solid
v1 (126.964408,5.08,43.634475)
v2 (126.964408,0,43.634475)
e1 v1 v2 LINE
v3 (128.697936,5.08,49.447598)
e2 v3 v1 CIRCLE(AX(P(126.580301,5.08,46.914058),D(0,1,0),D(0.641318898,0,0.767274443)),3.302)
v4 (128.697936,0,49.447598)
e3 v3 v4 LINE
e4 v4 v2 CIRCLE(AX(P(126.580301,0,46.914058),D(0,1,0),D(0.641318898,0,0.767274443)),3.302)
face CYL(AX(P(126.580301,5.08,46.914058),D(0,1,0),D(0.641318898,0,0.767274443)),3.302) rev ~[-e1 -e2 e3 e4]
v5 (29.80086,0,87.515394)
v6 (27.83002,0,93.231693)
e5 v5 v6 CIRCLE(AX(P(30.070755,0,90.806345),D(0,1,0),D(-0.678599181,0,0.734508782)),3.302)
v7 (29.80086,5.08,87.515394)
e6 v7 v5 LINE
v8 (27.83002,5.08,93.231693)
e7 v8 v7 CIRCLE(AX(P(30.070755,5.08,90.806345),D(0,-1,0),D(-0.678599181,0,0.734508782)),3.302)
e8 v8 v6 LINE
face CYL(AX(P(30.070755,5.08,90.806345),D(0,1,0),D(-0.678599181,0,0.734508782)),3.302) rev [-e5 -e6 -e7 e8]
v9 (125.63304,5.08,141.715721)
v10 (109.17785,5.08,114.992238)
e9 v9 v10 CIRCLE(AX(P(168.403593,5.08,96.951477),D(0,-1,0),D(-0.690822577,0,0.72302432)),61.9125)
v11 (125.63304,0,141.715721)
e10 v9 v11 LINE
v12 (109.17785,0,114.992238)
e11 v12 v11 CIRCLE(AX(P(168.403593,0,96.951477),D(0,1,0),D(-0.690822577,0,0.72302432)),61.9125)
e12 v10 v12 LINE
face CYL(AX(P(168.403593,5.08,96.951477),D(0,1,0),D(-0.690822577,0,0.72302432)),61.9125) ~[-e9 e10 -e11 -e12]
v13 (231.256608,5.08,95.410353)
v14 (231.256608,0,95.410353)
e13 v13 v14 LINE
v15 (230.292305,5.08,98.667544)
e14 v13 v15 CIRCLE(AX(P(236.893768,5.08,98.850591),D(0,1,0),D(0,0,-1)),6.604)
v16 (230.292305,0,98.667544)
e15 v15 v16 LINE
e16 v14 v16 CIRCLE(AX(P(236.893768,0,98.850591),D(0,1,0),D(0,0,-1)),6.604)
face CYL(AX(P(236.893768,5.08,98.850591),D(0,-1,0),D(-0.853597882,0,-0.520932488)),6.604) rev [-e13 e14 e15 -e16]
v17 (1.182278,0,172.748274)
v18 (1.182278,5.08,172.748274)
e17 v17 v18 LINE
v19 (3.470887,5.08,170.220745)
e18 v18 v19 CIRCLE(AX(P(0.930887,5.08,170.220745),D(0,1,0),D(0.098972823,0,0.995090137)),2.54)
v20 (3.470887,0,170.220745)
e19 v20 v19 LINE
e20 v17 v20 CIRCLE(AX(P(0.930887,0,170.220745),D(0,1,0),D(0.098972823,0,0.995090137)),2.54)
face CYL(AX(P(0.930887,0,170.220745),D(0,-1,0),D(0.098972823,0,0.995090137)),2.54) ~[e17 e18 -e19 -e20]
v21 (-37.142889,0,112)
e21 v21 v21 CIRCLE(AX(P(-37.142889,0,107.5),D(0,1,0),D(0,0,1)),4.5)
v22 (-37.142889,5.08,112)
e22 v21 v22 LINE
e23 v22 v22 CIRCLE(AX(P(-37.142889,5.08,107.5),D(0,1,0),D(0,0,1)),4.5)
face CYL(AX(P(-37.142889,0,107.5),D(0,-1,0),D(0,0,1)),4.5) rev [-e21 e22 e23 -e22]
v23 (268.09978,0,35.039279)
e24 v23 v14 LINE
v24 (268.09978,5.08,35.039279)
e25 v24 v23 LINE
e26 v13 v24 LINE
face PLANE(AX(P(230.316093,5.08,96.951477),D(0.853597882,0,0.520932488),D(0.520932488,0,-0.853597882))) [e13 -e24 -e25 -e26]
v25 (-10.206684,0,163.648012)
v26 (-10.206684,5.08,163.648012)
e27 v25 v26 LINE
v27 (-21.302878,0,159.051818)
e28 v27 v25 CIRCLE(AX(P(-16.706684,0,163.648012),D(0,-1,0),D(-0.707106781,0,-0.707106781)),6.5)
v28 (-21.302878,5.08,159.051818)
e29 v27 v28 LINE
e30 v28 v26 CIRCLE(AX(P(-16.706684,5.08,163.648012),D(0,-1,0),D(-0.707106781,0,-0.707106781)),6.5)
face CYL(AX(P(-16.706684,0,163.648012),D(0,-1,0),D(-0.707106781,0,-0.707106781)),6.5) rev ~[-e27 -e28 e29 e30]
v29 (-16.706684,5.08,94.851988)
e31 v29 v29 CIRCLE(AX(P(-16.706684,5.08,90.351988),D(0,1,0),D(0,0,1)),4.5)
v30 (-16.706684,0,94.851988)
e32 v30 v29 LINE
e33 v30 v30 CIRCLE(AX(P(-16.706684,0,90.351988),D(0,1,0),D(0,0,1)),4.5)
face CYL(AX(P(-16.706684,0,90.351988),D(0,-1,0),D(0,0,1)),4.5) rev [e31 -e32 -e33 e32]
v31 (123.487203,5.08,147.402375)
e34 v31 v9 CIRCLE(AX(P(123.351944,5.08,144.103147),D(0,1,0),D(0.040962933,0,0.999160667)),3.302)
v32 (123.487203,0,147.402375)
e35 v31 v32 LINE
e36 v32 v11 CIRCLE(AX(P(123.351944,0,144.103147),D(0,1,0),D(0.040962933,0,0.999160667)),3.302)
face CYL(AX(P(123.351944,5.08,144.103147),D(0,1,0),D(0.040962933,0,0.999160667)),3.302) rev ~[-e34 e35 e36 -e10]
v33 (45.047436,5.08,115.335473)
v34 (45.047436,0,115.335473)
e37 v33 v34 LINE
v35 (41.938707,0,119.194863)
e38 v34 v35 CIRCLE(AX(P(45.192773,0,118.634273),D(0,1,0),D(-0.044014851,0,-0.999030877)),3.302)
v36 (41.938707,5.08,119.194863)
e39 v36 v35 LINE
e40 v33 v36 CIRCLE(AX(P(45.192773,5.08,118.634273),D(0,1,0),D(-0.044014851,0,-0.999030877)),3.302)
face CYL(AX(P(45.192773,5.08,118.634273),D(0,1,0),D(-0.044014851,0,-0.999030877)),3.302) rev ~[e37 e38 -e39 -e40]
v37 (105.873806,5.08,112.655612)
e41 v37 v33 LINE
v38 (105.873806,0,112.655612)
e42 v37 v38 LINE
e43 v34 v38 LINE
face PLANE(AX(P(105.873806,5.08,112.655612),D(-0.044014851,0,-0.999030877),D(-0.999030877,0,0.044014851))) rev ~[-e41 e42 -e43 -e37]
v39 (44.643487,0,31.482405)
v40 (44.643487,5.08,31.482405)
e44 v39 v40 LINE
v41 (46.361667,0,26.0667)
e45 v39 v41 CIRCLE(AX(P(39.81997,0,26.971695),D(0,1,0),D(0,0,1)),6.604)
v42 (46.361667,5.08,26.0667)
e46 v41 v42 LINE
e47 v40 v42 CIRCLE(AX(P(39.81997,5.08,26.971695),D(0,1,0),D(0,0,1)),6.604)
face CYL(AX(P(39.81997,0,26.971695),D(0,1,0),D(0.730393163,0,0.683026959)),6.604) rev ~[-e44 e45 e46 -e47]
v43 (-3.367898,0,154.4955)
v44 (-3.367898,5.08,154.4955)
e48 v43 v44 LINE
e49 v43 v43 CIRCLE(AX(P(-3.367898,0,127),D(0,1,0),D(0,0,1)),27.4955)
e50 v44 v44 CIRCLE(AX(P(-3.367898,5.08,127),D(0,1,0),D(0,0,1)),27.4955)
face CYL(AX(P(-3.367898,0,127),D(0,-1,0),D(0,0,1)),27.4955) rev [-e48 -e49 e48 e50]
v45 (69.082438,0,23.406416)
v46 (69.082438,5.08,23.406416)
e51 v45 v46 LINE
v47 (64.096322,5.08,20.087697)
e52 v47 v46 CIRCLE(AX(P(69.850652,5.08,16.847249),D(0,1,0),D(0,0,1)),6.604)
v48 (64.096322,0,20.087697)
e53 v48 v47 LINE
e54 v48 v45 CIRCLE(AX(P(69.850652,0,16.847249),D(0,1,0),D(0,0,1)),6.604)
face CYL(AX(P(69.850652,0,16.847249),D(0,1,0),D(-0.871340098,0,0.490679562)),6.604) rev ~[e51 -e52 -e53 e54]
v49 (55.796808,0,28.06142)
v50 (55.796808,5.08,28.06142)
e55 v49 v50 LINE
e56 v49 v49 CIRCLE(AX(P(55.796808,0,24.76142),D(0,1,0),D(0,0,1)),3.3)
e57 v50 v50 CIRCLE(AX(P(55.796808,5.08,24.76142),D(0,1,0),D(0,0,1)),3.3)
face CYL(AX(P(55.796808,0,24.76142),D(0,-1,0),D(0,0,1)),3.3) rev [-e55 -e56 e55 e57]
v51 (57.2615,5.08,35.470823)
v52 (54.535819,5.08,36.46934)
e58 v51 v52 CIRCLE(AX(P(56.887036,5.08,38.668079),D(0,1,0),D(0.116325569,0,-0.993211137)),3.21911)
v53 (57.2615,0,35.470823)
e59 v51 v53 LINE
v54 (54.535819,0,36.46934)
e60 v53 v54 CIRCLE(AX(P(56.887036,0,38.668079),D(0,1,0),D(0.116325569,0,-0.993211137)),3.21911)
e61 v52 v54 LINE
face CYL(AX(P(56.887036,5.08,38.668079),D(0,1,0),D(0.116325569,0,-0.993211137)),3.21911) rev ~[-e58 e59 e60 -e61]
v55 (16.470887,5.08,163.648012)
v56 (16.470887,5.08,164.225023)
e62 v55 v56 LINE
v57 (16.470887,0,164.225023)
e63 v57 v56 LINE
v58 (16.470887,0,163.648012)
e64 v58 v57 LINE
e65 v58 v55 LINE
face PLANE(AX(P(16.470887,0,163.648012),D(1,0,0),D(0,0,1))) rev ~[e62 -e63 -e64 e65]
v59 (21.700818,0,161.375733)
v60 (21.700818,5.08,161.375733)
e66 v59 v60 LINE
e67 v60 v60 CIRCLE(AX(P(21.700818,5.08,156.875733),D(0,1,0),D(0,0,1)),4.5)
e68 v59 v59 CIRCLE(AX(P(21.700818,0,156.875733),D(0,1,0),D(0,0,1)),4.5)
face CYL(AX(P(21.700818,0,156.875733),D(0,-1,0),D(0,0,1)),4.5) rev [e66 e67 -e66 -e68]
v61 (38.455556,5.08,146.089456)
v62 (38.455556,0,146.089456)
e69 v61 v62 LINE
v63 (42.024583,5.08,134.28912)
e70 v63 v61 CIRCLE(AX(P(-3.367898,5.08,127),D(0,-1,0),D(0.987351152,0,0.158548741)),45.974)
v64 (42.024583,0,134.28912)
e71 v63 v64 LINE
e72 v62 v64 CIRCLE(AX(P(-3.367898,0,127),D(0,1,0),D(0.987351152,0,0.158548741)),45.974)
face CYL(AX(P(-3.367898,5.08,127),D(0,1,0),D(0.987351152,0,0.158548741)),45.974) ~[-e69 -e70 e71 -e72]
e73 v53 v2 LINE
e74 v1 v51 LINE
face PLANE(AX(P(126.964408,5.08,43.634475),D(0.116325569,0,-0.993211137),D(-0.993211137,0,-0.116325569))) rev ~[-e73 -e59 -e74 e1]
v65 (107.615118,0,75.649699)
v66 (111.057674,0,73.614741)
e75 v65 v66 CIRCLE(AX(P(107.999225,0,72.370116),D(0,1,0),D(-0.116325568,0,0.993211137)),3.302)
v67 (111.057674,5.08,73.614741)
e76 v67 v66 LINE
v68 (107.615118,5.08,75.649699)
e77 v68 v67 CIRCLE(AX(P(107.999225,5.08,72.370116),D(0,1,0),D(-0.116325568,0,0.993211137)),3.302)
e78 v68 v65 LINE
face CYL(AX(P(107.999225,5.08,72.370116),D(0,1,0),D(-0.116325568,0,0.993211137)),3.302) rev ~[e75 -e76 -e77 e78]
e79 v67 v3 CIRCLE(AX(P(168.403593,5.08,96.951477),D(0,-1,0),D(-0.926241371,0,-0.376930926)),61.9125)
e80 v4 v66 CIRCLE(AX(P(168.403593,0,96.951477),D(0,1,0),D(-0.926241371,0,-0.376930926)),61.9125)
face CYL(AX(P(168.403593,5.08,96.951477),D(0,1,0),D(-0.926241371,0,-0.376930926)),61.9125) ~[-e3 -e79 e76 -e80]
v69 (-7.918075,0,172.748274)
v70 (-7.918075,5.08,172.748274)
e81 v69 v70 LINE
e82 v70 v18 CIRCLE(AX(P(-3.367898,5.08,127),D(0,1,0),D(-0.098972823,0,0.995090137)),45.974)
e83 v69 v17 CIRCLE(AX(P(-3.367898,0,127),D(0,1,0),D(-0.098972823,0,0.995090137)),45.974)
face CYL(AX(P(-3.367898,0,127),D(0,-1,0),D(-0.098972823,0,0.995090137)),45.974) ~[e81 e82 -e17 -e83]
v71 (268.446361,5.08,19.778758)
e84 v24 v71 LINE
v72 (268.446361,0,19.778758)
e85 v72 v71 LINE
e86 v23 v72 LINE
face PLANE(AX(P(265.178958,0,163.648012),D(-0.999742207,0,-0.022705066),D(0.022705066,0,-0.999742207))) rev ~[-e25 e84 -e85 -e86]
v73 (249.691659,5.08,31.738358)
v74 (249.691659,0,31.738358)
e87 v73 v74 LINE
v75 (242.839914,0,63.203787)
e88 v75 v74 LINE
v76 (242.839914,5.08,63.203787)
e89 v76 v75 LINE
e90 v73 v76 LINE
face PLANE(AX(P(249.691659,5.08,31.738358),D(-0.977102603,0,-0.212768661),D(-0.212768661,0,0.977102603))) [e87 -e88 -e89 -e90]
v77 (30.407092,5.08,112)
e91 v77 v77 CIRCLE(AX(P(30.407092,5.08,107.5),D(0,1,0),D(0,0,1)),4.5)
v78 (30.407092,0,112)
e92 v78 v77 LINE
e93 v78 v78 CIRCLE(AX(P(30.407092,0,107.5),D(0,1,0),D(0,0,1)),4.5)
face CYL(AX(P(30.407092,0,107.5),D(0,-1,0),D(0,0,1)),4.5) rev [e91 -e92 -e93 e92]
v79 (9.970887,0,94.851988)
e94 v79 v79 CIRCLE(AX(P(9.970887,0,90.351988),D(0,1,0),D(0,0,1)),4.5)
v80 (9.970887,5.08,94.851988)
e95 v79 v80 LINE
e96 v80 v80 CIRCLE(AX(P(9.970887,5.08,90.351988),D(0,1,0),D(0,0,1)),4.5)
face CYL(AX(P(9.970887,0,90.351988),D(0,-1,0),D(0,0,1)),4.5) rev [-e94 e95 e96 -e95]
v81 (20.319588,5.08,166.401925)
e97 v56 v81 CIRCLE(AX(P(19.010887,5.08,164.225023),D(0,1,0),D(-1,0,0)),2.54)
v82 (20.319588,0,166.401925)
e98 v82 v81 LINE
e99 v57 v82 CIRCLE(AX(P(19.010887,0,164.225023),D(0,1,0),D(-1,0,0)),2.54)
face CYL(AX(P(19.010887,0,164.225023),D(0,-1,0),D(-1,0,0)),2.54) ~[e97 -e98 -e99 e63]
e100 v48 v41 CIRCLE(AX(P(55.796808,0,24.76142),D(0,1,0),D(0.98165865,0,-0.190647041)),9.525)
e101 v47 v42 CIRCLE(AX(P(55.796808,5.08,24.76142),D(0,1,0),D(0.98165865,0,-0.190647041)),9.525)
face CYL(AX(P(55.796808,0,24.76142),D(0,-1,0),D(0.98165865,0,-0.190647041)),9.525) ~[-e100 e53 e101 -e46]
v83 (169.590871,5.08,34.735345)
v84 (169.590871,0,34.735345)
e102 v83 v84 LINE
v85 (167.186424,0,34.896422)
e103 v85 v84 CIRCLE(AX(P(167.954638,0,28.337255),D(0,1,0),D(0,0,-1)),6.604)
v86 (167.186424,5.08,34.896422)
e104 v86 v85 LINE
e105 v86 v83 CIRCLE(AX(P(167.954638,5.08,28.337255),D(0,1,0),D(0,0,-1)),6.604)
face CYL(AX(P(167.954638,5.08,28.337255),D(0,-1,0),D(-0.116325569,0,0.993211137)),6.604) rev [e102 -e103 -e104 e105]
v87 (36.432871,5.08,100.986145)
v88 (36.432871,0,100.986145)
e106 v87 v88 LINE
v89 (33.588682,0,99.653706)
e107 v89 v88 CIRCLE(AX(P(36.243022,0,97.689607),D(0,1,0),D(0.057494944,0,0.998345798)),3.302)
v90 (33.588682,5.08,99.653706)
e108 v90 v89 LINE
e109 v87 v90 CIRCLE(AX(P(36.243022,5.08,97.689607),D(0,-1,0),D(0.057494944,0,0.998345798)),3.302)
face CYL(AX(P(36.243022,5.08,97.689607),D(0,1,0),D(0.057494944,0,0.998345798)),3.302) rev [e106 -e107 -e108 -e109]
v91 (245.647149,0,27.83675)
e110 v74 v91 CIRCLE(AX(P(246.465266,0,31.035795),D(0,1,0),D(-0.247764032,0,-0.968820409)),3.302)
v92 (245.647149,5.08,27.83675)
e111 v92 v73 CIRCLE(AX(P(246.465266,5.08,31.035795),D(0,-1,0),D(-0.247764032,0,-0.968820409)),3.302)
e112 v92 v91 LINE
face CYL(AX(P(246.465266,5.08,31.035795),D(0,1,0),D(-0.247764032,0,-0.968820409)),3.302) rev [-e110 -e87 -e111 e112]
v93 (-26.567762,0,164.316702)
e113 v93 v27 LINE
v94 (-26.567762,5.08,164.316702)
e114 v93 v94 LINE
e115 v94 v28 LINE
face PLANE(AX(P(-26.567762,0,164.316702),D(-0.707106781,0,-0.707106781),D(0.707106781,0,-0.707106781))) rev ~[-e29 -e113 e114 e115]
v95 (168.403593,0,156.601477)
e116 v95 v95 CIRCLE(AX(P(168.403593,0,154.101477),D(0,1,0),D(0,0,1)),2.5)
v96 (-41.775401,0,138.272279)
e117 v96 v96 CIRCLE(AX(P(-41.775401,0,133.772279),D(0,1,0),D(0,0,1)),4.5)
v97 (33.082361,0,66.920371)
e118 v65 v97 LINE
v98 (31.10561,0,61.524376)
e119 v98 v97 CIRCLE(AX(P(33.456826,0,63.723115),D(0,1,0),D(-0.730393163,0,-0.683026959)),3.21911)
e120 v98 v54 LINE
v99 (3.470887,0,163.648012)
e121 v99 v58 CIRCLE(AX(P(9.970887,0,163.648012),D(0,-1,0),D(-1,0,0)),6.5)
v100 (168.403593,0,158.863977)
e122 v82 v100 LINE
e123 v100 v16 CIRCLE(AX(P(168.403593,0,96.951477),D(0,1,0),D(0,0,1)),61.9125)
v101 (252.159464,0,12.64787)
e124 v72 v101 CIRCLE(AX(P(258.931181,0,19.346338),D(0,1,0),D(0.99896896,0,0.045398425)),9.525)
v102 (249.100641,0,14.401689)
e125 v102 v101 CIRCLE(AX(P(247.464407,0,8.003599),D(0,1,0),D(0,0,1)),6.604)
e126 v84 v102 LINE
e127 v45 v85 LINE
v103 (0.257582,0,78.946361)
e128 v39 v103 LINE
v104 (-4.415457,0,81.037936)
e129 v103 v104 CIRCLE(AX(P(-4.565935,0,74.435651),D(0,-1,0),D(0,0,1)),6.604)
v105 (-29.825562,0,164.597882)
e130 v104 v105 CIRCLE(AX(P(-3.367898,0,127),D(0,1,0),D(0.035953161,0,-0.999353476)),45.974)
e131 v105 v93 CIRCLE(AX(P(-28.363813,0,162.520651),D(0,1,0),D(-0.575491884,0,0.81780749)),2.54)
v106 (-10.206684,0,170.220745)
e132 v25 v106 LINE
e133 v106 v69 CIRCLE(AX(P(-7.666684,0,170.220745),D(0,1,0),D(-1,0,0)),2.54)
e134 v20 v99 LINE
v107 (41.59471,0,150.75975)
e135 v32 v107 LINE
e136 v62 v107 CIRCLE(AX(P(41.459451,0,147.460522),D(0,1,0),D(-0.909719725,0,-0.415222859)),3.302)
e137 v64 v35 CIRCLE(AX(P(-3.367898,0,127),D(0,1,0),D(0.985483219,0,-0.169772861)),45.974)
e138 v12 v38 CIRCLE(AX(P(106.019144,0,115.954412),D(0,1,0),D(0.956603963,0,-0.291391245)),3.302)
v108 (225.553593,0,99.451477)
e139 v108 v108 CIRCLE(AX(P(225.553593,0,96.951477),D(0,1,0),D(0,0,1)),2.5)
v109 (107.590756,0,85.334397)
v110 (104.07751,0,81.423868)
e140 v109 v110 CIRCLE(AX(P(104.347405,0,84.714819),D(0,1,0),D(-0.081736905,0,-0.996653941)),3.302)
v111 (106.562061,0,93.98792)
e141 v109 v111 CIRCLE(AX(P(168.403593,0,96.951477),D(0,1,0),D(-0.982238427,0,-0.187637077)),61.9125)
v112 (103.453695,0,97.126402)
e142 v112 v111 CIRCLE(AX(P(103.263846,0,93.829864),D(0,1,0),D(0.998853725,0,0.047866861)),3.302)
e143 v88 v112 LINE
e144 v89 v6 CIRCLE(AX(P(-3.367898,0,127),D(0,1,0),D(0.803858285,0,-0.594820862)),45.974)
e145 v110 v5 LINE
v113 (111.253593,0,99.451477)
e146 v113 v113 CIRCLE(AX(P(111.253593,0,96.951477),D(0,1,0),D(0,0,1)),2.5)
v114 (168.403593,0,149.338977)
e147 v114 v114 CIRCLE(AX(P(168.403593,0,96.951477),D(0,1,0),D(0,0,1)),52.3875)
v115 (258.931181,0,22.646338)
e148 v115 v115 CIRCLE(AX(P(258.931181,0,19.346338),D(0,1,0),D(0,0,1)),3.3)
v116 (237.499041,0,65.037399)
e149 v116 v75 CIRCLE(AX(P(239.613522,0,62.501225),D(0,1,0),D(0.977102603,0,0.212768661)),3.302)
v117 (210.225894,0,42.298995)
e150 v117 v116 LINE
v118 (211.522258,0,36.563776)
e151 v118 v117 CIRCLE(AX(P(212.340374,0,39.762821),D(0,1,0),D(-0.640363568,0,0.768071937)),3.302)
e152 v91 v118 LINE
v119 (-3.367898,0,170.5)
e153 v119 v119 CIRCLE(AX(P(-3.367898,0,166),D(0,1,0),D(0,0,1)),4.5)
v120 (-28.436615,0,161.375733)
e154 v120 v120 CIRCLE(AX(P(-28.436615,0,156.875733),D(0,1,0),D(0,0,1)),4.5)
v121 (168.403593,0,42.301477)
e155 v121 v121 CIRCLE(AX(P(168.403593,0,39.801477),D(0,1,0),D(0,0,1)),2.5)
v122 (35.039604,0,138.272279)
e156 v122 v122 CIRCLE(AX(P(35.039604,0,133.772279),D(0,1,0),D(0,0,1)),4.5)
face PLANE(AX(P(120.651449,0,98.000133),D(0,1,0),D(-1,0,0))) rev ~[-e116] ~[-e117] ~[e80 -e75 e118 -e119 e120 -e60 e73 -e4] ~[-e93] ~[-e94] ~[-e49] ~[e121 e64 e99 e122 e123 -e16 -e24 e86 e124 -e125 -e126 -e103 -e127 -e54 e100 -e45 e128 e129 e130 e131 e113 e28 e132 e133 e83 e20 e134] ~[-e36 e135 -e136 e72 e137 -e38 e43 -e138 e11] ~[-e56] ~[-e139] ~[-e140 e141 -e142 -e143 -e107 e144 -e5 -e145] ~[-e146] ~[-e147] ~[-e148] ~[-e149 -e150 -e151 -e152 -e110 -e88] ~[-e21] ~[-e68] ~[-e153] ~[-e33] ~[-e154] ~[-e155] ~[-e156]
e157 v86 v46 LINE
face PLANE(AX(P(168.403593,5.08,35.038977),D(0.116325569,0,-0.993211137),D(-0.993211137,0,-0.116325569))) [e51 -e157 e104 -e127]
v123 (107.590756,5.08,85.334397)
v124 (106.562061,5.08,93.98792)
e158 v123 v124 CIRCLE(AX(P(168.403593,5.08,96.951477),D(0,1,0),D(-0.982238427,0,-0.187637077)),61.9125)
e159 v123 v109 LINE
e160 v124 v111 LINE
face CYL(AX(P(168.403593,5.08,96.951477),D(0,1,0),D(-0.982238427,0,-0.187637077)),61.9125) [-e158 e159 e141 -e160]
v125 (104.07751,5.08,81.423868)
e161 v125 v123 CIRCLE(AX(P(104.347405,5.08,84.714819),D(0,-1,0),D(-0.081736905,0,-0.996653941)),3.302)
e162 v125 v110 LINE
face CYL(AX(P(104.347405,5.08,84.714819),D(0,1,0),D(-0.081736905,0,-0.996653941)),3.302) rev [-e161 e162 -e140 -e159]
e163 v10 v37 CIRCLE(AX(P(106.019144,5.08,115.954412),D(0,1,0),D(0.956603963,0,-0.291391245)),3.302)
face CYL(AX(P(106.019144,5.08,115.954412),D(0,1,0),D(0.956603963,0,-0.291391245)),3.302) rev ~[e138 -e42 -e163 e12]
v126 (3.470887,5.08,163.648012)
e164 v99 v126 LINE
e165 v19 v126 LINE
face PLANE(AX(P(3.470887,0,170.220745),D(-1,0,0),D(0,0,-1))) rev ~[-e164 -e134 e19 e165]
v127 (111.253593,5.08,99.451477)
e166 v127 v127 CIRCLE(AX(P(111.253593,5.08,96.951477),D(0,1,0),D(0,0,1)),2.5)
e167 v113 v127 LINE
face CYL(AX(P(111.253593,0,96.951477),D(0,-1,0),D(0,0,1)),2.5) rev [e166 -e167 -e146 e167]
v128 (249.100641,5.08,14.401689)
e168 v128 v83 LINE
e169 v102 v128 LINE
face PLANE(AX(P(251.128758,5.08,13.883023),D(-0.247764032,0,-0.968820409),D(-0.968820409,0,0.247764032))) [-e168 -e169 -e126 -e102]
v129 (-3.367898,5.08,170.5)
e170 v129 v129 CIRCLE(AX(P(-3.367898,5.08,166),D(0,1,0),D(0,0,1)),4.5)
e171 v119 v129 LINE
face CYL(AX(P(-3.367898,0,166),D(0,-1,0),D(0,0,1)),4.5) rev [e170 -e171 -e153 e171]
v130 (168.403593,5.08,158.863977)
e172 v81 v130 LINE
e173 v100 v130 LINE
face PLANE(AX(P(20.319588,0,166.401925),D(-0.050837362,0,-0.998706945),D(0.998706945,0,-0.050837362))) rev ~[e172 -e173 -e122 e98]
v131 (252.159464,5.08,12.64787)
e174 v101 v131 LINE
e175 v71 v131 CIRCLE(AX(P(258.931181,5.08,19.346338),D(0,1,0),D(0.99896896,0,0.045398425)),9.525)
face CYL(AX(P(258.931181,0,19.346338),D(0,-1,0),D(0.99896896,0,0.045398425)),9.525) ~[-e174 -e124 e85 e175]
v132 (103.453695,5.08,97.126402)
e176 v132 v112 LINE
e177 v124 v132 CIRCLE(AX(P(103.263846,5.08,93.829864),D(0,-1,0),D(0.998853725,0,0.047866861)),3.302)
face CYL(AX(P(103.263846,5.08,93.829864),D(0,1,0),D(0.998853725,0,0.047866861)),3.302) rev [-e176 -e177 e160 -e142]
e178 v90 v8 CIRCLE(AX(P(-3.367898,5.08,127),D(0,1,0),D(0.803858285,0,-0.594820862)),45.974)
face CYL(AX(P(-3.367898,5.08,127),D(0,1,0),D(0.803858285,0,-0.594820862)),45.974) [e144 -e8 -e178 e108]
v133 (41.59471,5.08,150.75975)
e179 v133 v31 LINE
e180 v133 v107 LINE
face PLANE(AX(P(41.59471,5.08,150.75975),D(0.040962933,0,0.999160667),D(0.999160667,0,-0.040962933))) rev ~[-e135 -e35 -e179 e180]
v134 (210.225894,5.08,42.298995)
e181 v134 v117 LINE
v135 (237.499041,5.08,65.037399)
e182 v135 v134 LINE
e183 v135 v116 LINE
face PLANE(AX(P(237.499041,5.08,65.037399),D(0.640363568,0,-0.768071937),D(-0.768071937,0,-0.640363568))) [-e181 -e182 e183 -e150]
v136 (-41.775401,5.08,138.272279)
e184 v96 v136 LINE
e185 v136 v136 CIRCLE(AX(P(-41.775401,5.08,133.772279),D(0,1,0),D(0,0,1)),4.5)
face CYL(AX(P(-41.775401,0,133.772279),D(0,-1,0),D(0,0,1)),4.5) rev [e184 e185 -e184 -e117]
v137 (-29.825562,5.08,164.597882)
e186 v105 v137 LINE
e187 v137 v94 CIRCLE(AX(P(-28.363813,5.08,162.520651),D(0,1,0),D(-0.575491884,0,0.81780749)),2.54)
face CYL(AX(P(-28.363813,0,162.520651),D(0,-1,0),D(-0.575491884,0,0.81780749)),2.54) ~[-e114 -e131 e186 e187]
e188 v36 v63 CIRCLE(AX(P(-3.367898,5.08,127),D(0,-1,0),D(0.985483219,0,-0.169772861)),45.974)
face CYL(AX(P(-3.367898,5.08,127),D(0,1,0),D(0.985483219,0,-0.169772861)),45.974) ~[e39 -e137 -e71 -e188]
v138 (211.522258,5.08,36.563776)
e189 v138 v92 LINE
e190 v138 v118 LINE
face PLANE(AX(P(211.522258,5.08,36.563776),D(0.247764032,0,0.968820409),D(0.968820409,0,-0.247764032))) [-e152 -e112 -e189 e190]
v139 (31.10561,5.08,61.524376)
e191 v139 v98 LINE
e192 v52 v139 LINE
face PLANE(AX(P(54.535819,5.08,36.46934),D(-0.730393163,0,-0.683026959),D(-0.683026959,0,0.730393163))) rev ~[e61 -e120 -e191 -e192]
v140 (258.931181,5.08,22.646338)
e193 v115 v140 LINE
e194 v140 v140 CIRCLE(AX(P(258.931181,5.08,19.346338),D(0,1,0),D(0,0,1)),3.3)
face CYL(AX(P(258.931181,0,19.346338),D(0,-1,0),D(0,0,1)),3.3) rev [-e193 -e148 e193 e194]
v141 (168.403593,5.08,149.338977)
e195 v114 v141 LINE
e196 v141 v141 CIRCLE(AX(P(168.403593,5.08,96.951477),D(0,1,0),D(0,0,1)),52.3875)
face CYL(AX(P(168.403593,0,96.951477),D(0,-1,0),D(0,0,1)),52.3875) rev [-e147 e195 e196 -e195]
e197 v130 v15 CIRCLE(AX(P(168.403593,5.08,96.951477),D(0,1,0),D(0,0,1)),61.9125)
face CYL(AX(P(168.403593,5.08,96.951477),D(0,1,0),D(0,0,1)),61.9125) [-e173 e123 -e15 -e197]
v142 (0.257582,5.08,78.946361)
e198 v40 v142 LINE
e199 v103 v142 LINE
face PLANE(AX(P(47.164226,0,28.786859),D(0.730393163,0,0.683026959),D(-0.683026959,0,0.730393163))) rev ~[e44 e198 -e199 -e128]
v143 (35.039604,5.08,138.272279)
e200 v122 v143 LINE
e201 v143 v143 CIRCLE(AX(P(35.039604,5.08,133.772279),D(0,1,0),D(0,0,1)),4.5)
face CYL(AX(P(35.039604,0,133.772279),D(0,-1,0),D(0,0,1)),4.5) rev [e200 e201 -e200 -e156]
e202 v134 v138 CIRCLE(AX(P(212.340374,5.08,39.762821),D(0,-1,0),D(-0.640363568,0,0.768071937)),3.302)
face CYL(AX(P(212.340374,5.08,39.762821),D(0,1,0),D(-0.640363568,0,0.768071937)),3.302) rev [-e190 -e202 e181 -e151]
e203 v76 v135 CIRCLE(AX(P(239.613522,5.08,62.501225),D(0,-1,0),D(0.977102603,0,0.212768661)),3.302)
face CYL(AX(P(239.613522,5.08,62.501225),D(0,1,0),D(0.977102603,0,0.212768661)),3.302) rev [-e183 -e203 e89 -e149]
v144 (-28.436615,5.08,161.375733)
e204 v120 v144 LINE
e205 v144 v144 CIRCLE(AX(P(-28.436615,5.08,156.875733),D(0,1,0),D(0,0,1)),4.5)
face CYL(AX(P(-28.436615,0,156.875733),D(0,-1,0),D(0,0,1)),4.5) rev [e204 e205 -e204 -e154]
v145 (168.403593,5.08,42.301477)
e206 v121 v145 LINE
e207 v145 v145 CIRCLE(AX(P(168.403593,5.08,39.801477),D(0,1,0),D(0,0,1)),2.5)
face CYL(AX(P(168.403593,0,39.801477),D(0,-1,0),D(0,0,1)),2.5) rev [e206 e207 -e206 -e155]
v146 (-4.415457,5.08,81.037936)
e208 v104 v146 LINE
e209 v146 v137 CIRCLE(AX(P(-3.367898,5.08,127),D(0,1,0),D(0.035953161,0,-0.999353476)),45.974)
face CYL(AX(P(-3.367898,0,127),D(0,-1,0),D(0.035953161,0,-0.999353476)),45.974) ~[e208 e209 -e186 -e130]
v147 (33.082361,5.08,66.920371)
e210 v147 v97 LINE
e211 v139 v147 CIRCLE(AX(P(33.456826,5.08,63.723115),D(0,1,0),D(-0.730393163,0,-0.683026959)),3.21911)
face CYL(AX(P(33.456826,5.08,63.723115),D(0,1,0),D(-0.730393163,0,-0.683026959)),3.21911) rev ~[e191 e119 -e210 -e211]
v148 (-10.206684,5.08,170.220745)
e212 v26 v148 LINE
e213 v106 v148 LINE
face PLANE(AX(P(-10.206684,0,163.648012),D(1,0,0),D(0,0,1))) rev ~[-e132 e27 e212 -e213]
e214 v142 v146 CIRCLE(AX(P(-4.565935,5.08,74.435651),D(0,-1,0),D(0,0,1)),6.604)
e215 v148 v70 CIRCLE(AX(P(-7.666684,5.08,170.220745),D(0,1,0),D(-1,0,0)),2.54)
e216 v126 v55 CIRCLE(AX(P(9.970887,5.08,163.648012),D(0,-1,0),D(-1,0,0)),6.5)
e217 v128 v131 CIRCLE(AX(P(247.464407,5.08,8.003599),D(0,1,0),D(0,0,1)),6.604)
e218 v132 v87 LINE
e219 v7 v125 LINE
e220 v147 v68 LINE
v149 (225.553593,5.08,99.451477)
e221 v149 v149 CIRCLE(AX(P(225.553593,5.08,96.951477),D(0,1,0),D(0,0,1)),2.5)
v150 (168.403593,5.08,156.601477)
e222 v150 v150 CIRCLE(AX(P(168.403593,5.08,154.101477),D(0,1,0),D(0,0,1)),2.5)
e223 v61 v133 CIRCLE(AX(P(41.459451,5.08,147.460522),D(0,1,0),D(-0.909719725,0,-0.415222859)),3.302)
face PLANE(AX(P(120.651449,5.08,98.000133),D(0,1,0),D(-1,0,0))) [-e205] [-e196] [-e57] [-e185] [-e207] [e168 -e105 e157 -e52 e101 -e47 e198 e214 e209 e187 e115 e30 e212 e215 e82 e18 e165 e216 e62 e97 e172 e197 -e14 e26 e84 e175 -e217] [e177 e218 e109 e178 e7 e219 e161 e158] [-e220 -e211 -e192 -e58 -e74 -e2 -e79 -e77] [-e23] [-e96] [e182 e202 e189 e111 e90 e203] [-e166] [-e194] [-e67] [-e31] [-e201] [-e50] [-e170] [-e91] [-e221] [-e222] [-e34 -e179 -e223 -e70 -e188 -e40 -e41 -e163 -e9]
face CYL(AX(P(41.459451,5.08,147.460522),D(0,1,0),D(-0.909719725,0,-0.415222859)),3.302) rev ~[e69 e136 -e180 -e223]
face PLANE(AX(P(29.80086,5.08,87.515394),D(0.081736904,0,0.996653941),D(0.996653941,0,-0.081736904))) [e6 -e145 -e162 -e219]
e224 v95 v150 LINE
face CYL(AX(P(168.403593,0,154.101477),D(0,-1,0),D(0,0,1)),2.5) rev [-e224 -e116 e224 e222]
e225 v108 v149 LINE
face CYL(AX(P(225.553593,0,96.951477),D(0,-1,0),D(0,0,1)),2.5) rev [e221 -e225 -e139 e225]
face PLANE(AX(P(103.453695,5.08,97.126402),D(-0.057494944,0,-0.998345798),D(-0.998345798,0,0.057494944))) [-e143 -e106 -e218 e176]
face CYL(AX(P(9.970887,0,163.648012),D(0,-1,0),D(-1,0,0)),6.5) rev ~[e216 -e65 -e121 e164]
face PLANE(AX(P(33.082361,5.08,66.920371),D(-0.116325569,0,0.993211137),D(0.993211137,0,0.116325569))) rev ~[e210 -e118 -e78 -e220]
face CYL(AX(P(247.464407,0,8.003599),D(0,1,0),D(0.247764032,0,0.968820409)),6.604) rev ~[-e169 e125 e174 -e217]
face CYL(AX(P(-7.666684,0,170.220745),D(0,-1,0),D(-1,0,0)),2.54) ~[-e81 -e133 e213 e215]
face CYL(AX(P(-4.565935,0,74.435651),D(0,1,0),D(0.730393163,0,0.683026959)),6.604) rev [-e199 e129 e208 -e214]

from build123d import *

# Parameters (mm, degrees)
SKETCH3_R           = 2.5
SKETCH3_R_2         = 52.3875
SKETCH3_R_3         = 3.3
SKETCH3_R_4         = 4.5
SKETCH3_R_5         = 27.4955
SKETCH3_R_6         = 3.300000004
BOSS_EXTRUDE1_DEPTH = 5.08
CUT_EXTRUDE1_REACH  = 321.397
CUT_EXTRUDE2_REACH  = 321.397
CUT_EXTRUDE4_REACH  = 321.397
CUT_EXTRUDE5_REACH  = 321.397
CUT_EXTRUDE6_REACH  = 321.397
FILLET1_R           = 6.604


with BuildPart() as part:
    # Sketch3 → Boss-Extrude1 (new body)
    with BuildSketch(Plane(origin=(0, 0, 0), x_dir=(-1, 0, 0), z_dir=(0, 1, 0))):
        with BuildLine():
            Line((-47.164225852, 28.786858925), (1.714987837, 81.055723289))
            ThreePointArc((1.714987837, 81.055723289), (46.941307752, 112.338258021), (29.825562347, 164.597881552))
            ThreePointArc((29.825562347, 164.597881552), (28.145398332, 165.051242365), (26.567761736, 164.316701751))
            Line((26.567761736, 164.316701751), (21.302878118, 159.051818133))
            ThreePointArc((21.302878118, 159.051818133), (14.21924173, 157.642795249), (10.20668404, 163.648012211))
            Line((10.20668404, 163.648012211), (10.20668404, 170.220745001))
            ThreePointArc((10.20668404, 170.220745001), (9.549518747, 171.925600851), (7.91807501, 172.748273949))
            ThreePointArc((7.91807501, 172.748273949), (3.367898451, 172.974), (-1.182278109, 172.748273949))
            ThreePointArc((-1.182278109, 172.748273949), (-2.813721846, 171.925600851), (-3.470887139, 170.220745001))
            Line((-3.470887139, 170.220745001), (-3.470887139, 163.648012211))
            ThreePointArc((-3.470887139, 163.648012211), (-9.970887139, 157.148012211), (-16.470887139, 163.648012211))
            Line((-16.470887139, 163.648012211), (-16.470887139, 164.225022653))
            ThreePointArc((-16.470887139, 164.225022653), (-17.760387302, 166.435870942), (-20.319588051, 166.401924563))
            Line((-20.319588051, 166.401924563), (-168.403592651, 158.863977372))
            Line((-168.403592651, 158.863977372), (-265.178957518, 163.648012211))
            Line((-265.178957518, 163.648012211), (-268.446360693, 19.778758396))
            ThreePointArc((-268.446360693, 19.778758396), (-262.000922025, 10.329558641), (-251.128758127, 13.883022842))
            Line((-251.128758127, 13.883022842), (-65.147106167, 22.945506915))
            ThreePointArc((-65.147106167, 22.945506915), (-52.854167936, 15.702363891), (-47.164225852, 28.786858925))
        make_face()
        with Locations(Location((-168.403592651, 39.801477371, 0), (0, 0, 90))):
            Circle(SKETCH3_R, mode=Mode.SUBTRACT)
        with Locations(Location((-225.553592651, 96.951477371, 0), (0, 0, 90))):
            Circle(SKETCH3_R, mode=Mode.SUBTRACT)
        with Locations(Location((-168.403592651, 96.951477372, 0), (0, 0, 90))):
            Circle(SKETCH3_R_2, mode=Mode.SUBTRACT)
        with Locations(Location((-111.253592651, 96.951477371, 0), (0, 0, 90))):
            Circle(SKETCH3_R, mode=Mode.SUBTRACT)
        with Locations(Location((-168.403592651, 154.101477371, 0), (0, 0, 90))):
            Circle(SKETCH3_R, mode=Mode.SUBTRACT)
        with Locations(Location((-55.796807523, 24.761419982, 0), (0, 0, 90))):
            Circle(SKETCH3_R_3, mode=Mode.SUBTRACT)
        with Locations(Location((28.436615228, 156.875733282, 0), (0, 0, 90))):
            Circle(SKETCH3_R_4, mode=Mode.SUBTRACT)
        with Locations(Location((-9.970887139, 90.351987789, 0), (0, 0, 90))):
            Circle(SKETCH3_R_4, mode=Mode.SUBTRACT)
        with Locations(Location((16.70668404, 90.351987789, 0), (0, 0, 90))):
            Circle(SKETCH3_R_4, mode=Mode.SUBTRACT)
        with Locations(Location((-30.407092297, 107.5, 0), (0, 0, 90))):
            Circle(SKETCH3_R_4, mode=Mode.SUBTRACT)
        with Locations(Location((37.142889198, 107.5, 0), (0, 0, 90))):
            Circle(SKETCH3_R_4, mode=Mode.SUBTRACT)
        with Locations(Location((3.367898451, 127, 0), (0, 0, 90))):
            Circle(SKETCH3_R_5, mode=Mode.SUBTRACT)
        with Locations(Location((-35.039603917, 133.772278929, 0), (0, 0, 90))):
            Circle(SKETCH3_R_4, mode=Mode.SUBTRACT)
        with Locations(Location((41.775400818, 133.772278929, 0), (0, 0, 90))):
            Circle(SKETCH3_R_4, mode=Mode.SUBTRACT)
        with Locations(Location((-21.700818327, 156.875733282, 0), (0, 0, 90))):
            Circle(SKETCH3_R_4, mode=Mode.SUBTRACT)
        with Locations(Location((3.367898451, 166, 0), (0, 0, 90))):
            Circle(SKETCH3_R_4, mode=Mode.SUBTRACT)
        with Locations(Location((-258.931181349, 19.346338398, 0), (0, 0, 90))):
            Circle(SKETCH3_R_6, mode=Mode.SUBTRACT)
    extrude(amount=BOSS_EXTRUDE1_DEPTH)

    # Sketch9 → Cut-Extrude1 (cut, up to next)
    with BuildSketch(Plane(origin=(0, 5.08, 0), x_dir=(1, 0, 0), z_dir=(0, 1, 0)), mode=Mode.PRIVATE) as cut_extrude1_sk1:
        with BuildLine():
            Line((230.316092651, -96.951477372), (268.099780231, -35.039278689))
            Line((268.099780231, -35.039278689), (265.178957518, -163.648012211))
            Line((265.178957518, -163.648012211), (168.403592651, -158.863977372))
            ThreePointArc((168.403592651, -158.863977372), (212.182341242, -140.730225962), (230.316092651, -96.951477372))
        make_face()
    cut_extrude1_tool1 = extrude(cut_extrude1_sk1.sketch, amount=-CUT_EXTRUDE1_REACH, mode=Mode.PRIVATE) & part.part
    # Sketch9 → Cut-Extrude1 (cut, up to next)
    with BuildSketch(Plane(origin=(0, 5.08, 0), x_dir=(1, 0, 0), z_dir=(0, 1, 0)), mode=Mode.PRIVATE) as cut_extrude1_sk2:
        Polygon((251.128758127, -13.883022842), (168.403592651, -35.038977372), (65.147106167, -22.945506915), align=None)
    cut_extrude1_tool2 = extrude(cut_extrude1_sk2.sketch, amount=-CUT_EXTRUDE1_REACH, mode=Mode.PRIVATE) & part.part
    add(cut_extrude1_tool1.solids().sort_by_distance((243.183286, 5.08, 119.496807))[0], mode=Mode.SUBTRACT)
    add(cut_extrude1_tool2.solids().sort_by_distance((161.559819, 5.08, 23.955836))[0], mode=Mode.SUBTRACT)

    # Sketch10 → Cut-Extrude2 (cut, up to next)
    with BuildSketch(Plane(origin=(0, 5.08, 0), x_dir=(1, 0, 0), z_dir=(0, 1, 0)), mode=Mode.PRIVATE) as cut_extrude2_sk1:
        with BuildLine():
            Line((126.96440839, -43.634475041), (57.261500394, -35.47082269))
            ThreePointArc((57.261500394, -35.47082269), (55.779720918, -35.645410279), (54.535819255, -36.469339824))
            Line((54.535819255, -36.469339824), (31.105609691, -61.52437556))
            ThreePointArc((31.105609691, -61.52437556), (30.434157188, -64.830429418), (33.082361116, -66.920371173))
            Line((33.082361116, -66.920371173), (107.615117732, -75.649698704))
            ThreePointArc((107.615117732, -75.649698704), (109.679489327, -75.212634657), (111.057673768, -73.614741447))
            ThreePointArc((111.057673768, -73.614741447), (118.395945624, -60.449519959), (128.697936364, -49.447598425))
            ThreePointArc((128.697936364, -49.447598425), (129.74459894, -45.970434966), (126.96440839, -43.634475041))
        make_face()
    cut_extrude2_tool1 = extrude(cut_extrude2_sk1.sketch, amount=-CUT_EXTRUDE2_REACH, mode=Mode.PRIVATE) & part.part
    add(cut_extrude2_tool1.solids().sort_by_distance((80.43858, 5.08, 55.50935))[0], mode=Mode.SUBTRACT)

    # Sketch12 → Cut-Extrude4 (cut, up to next)
    with BuildSketch(Plane(origin=(0, 5.08, 0), x_dir=(1, 0, 0), z_dir=(0, 1, 0)), mode=Mode.PRIVATE) as cut_extrude4_sk1:
        with BuildLine():
            Line((249.691658934, -31.738357521), (242.839914491, -63.203787175))
            ThreePointArc((242.839914491, -63.203787175), (240.68572501, -65.624297911), (237.499041194, -65.037398593))
            Line((237.499041194, -65.037398593), (210.225893969, -42.298994776))
            ThreePointArc((210.225893969, -42.298994776), (209.119626938, -39.034817578), (211.522257638, -36.56377625))
            Line((211.522257638, -36.56377625), (245.647149306, -27.836750413))
            ThreePointArc((245.647149306, -27.836750413), (248.757771926, -28.659322972), (249.691658934, -31.738357521))
        make_face()
    cut_extrude4_tool1 = extrude(cut_extrude4_sk1.sketch, amount=-CUT_EXTRUDE4_REACH, mode=Mode.PRIVATE) & part.part
    add(cut_extrude4_tool1.solids().sort_by_distance((232.663577, 5.08, 44.411136))[0], mode=Mode.SUBTRACT)

    # Sketch13 → Cut-Extrude5 (cut, up to next)
    with BuildSketch(Plane(origin=(0, 5.08, 0), x_dir=(1, 0, 0), z_dir=(0, 1, 0)), mode=Mode.PRIVATE) as cut_extrude5_sk1:
        with BuildLine():
            Line((103.453694718, -97.126401755), (36.43287071, -100.986145044))
            ThreePointArc((36.43287071, -100.986145044), (34.842208875, -100.679745253), (33.588682349, -99.653705706))
            ThreePointArc((33.588682349, -99.653705706), (30.860299189, -96.307343511), (27.830020313, -93.231693249))
            ThreePointArc((27.830020313, -93.231693249), (26.949082998, -89.730069681), (29.800859551, -87.515393937))
            Line((29.800859551, -87.515393937), (104.077509501, -81.423867894))
            ThreePointArc((104.077509501, -81.423867894), (106.803706724, -82.508060349), (107.590756045, -85.334396836))
            ThreePointArc((107.590756045, -85.334396836), (106.923967125, -89.643036953), (106.562061414, -93.987920308))
            ThreePointArc((106.562061414, -93.987920308), (105.609941649, -96.153447619), (103.453694718, -97.126401755))
        make_face()
    cut_extrude5_tool1 = extrude(cut_extrude5_sk1.sketch, amount=-CUT_EXTRUDE5_REACH, mode=Mode.PRIVATE) & part.part
    add(cut_extrude5_tool1.solids().sort_by_distance((69.06396, 5.08, 91.55919))[0], mode=Mode.SUBTRACT)

    # Sketch11 → Cut-Extrude6 (cut, up to next)
    with BuildSketch(Plane(origin=(0, 5.08, 0), x_dir=(1, 0, 0), z_dir=(0, 1, 0)), mode=Mode.PRIVATE) as cut_extrude6_sk1:
        with BuildLine():
            ThreePointArc((109.17784979, -114.992237854), (107.925725235, -113.25846106), (105.873806466, -112.655611792))
            Line((105.873806466, -112.655611792), (45.047435633, -115.33547257))
            ThreePointArc((45.047435633, -115.33547257), (42.621254202, -116.562921091), (41.938707081, -119.194862511))
            ThreePointArc((41.938707081, -119.194862511), (42.605357512, -126.738442657), (42.024583396, -134.289119823))
            ThreePointArc((42.024583396, -134.289119823), (40.637406634, -140.309462815), (38.45555618, -146.089455697))
            ThreePointArc((38.45555618, -146.089455697), (38.718980125, -149.302538125), (41.594710316, -150.759750098))
            Line((41.594710316, -150.759750098), (123.487203332, -147.402375423))
            ThreePointArc((123.487203332, -147.402375423), (126.441313333, -145.268908214), (125.633039875, -141.715720596))
            ThreePointArc((125.633039875, -141.715720596), (115.684078111, -129.413924027), (109.17784979, -114.992237854))
        make_face()
    cut_extrude6_tool1 = extrude(cut_extrude6_sk1.sketch, amount=-CUT_EXTRUDE6_REACH, mode=Mode.PRIVATE) & part.part
    add(cut_extrude6_tool1.solids().sort_by_distance((79.387948, 5.08, 132.50433))[0], mode=Mode.SUBTRACT)

    # Fillet1
    fillet1_edges = [part.edges().sort_by_distance(p)[0] for p in [
        (230.316092651, 2.54, 96.951477372),
        (168.403592651, 2.54, 35.038977372),
        (-1.714987837, 2.54, 81.055723289),
        (47.164225852, 2.54, 28.786858925),
        (65.147106167, 2.54, 22.945506915),
        (251.128758127, 2.54, 13.883022842),
    ]]
    fillet(fillet1_edges, radius=FILLET1_R)


solid = part.part
